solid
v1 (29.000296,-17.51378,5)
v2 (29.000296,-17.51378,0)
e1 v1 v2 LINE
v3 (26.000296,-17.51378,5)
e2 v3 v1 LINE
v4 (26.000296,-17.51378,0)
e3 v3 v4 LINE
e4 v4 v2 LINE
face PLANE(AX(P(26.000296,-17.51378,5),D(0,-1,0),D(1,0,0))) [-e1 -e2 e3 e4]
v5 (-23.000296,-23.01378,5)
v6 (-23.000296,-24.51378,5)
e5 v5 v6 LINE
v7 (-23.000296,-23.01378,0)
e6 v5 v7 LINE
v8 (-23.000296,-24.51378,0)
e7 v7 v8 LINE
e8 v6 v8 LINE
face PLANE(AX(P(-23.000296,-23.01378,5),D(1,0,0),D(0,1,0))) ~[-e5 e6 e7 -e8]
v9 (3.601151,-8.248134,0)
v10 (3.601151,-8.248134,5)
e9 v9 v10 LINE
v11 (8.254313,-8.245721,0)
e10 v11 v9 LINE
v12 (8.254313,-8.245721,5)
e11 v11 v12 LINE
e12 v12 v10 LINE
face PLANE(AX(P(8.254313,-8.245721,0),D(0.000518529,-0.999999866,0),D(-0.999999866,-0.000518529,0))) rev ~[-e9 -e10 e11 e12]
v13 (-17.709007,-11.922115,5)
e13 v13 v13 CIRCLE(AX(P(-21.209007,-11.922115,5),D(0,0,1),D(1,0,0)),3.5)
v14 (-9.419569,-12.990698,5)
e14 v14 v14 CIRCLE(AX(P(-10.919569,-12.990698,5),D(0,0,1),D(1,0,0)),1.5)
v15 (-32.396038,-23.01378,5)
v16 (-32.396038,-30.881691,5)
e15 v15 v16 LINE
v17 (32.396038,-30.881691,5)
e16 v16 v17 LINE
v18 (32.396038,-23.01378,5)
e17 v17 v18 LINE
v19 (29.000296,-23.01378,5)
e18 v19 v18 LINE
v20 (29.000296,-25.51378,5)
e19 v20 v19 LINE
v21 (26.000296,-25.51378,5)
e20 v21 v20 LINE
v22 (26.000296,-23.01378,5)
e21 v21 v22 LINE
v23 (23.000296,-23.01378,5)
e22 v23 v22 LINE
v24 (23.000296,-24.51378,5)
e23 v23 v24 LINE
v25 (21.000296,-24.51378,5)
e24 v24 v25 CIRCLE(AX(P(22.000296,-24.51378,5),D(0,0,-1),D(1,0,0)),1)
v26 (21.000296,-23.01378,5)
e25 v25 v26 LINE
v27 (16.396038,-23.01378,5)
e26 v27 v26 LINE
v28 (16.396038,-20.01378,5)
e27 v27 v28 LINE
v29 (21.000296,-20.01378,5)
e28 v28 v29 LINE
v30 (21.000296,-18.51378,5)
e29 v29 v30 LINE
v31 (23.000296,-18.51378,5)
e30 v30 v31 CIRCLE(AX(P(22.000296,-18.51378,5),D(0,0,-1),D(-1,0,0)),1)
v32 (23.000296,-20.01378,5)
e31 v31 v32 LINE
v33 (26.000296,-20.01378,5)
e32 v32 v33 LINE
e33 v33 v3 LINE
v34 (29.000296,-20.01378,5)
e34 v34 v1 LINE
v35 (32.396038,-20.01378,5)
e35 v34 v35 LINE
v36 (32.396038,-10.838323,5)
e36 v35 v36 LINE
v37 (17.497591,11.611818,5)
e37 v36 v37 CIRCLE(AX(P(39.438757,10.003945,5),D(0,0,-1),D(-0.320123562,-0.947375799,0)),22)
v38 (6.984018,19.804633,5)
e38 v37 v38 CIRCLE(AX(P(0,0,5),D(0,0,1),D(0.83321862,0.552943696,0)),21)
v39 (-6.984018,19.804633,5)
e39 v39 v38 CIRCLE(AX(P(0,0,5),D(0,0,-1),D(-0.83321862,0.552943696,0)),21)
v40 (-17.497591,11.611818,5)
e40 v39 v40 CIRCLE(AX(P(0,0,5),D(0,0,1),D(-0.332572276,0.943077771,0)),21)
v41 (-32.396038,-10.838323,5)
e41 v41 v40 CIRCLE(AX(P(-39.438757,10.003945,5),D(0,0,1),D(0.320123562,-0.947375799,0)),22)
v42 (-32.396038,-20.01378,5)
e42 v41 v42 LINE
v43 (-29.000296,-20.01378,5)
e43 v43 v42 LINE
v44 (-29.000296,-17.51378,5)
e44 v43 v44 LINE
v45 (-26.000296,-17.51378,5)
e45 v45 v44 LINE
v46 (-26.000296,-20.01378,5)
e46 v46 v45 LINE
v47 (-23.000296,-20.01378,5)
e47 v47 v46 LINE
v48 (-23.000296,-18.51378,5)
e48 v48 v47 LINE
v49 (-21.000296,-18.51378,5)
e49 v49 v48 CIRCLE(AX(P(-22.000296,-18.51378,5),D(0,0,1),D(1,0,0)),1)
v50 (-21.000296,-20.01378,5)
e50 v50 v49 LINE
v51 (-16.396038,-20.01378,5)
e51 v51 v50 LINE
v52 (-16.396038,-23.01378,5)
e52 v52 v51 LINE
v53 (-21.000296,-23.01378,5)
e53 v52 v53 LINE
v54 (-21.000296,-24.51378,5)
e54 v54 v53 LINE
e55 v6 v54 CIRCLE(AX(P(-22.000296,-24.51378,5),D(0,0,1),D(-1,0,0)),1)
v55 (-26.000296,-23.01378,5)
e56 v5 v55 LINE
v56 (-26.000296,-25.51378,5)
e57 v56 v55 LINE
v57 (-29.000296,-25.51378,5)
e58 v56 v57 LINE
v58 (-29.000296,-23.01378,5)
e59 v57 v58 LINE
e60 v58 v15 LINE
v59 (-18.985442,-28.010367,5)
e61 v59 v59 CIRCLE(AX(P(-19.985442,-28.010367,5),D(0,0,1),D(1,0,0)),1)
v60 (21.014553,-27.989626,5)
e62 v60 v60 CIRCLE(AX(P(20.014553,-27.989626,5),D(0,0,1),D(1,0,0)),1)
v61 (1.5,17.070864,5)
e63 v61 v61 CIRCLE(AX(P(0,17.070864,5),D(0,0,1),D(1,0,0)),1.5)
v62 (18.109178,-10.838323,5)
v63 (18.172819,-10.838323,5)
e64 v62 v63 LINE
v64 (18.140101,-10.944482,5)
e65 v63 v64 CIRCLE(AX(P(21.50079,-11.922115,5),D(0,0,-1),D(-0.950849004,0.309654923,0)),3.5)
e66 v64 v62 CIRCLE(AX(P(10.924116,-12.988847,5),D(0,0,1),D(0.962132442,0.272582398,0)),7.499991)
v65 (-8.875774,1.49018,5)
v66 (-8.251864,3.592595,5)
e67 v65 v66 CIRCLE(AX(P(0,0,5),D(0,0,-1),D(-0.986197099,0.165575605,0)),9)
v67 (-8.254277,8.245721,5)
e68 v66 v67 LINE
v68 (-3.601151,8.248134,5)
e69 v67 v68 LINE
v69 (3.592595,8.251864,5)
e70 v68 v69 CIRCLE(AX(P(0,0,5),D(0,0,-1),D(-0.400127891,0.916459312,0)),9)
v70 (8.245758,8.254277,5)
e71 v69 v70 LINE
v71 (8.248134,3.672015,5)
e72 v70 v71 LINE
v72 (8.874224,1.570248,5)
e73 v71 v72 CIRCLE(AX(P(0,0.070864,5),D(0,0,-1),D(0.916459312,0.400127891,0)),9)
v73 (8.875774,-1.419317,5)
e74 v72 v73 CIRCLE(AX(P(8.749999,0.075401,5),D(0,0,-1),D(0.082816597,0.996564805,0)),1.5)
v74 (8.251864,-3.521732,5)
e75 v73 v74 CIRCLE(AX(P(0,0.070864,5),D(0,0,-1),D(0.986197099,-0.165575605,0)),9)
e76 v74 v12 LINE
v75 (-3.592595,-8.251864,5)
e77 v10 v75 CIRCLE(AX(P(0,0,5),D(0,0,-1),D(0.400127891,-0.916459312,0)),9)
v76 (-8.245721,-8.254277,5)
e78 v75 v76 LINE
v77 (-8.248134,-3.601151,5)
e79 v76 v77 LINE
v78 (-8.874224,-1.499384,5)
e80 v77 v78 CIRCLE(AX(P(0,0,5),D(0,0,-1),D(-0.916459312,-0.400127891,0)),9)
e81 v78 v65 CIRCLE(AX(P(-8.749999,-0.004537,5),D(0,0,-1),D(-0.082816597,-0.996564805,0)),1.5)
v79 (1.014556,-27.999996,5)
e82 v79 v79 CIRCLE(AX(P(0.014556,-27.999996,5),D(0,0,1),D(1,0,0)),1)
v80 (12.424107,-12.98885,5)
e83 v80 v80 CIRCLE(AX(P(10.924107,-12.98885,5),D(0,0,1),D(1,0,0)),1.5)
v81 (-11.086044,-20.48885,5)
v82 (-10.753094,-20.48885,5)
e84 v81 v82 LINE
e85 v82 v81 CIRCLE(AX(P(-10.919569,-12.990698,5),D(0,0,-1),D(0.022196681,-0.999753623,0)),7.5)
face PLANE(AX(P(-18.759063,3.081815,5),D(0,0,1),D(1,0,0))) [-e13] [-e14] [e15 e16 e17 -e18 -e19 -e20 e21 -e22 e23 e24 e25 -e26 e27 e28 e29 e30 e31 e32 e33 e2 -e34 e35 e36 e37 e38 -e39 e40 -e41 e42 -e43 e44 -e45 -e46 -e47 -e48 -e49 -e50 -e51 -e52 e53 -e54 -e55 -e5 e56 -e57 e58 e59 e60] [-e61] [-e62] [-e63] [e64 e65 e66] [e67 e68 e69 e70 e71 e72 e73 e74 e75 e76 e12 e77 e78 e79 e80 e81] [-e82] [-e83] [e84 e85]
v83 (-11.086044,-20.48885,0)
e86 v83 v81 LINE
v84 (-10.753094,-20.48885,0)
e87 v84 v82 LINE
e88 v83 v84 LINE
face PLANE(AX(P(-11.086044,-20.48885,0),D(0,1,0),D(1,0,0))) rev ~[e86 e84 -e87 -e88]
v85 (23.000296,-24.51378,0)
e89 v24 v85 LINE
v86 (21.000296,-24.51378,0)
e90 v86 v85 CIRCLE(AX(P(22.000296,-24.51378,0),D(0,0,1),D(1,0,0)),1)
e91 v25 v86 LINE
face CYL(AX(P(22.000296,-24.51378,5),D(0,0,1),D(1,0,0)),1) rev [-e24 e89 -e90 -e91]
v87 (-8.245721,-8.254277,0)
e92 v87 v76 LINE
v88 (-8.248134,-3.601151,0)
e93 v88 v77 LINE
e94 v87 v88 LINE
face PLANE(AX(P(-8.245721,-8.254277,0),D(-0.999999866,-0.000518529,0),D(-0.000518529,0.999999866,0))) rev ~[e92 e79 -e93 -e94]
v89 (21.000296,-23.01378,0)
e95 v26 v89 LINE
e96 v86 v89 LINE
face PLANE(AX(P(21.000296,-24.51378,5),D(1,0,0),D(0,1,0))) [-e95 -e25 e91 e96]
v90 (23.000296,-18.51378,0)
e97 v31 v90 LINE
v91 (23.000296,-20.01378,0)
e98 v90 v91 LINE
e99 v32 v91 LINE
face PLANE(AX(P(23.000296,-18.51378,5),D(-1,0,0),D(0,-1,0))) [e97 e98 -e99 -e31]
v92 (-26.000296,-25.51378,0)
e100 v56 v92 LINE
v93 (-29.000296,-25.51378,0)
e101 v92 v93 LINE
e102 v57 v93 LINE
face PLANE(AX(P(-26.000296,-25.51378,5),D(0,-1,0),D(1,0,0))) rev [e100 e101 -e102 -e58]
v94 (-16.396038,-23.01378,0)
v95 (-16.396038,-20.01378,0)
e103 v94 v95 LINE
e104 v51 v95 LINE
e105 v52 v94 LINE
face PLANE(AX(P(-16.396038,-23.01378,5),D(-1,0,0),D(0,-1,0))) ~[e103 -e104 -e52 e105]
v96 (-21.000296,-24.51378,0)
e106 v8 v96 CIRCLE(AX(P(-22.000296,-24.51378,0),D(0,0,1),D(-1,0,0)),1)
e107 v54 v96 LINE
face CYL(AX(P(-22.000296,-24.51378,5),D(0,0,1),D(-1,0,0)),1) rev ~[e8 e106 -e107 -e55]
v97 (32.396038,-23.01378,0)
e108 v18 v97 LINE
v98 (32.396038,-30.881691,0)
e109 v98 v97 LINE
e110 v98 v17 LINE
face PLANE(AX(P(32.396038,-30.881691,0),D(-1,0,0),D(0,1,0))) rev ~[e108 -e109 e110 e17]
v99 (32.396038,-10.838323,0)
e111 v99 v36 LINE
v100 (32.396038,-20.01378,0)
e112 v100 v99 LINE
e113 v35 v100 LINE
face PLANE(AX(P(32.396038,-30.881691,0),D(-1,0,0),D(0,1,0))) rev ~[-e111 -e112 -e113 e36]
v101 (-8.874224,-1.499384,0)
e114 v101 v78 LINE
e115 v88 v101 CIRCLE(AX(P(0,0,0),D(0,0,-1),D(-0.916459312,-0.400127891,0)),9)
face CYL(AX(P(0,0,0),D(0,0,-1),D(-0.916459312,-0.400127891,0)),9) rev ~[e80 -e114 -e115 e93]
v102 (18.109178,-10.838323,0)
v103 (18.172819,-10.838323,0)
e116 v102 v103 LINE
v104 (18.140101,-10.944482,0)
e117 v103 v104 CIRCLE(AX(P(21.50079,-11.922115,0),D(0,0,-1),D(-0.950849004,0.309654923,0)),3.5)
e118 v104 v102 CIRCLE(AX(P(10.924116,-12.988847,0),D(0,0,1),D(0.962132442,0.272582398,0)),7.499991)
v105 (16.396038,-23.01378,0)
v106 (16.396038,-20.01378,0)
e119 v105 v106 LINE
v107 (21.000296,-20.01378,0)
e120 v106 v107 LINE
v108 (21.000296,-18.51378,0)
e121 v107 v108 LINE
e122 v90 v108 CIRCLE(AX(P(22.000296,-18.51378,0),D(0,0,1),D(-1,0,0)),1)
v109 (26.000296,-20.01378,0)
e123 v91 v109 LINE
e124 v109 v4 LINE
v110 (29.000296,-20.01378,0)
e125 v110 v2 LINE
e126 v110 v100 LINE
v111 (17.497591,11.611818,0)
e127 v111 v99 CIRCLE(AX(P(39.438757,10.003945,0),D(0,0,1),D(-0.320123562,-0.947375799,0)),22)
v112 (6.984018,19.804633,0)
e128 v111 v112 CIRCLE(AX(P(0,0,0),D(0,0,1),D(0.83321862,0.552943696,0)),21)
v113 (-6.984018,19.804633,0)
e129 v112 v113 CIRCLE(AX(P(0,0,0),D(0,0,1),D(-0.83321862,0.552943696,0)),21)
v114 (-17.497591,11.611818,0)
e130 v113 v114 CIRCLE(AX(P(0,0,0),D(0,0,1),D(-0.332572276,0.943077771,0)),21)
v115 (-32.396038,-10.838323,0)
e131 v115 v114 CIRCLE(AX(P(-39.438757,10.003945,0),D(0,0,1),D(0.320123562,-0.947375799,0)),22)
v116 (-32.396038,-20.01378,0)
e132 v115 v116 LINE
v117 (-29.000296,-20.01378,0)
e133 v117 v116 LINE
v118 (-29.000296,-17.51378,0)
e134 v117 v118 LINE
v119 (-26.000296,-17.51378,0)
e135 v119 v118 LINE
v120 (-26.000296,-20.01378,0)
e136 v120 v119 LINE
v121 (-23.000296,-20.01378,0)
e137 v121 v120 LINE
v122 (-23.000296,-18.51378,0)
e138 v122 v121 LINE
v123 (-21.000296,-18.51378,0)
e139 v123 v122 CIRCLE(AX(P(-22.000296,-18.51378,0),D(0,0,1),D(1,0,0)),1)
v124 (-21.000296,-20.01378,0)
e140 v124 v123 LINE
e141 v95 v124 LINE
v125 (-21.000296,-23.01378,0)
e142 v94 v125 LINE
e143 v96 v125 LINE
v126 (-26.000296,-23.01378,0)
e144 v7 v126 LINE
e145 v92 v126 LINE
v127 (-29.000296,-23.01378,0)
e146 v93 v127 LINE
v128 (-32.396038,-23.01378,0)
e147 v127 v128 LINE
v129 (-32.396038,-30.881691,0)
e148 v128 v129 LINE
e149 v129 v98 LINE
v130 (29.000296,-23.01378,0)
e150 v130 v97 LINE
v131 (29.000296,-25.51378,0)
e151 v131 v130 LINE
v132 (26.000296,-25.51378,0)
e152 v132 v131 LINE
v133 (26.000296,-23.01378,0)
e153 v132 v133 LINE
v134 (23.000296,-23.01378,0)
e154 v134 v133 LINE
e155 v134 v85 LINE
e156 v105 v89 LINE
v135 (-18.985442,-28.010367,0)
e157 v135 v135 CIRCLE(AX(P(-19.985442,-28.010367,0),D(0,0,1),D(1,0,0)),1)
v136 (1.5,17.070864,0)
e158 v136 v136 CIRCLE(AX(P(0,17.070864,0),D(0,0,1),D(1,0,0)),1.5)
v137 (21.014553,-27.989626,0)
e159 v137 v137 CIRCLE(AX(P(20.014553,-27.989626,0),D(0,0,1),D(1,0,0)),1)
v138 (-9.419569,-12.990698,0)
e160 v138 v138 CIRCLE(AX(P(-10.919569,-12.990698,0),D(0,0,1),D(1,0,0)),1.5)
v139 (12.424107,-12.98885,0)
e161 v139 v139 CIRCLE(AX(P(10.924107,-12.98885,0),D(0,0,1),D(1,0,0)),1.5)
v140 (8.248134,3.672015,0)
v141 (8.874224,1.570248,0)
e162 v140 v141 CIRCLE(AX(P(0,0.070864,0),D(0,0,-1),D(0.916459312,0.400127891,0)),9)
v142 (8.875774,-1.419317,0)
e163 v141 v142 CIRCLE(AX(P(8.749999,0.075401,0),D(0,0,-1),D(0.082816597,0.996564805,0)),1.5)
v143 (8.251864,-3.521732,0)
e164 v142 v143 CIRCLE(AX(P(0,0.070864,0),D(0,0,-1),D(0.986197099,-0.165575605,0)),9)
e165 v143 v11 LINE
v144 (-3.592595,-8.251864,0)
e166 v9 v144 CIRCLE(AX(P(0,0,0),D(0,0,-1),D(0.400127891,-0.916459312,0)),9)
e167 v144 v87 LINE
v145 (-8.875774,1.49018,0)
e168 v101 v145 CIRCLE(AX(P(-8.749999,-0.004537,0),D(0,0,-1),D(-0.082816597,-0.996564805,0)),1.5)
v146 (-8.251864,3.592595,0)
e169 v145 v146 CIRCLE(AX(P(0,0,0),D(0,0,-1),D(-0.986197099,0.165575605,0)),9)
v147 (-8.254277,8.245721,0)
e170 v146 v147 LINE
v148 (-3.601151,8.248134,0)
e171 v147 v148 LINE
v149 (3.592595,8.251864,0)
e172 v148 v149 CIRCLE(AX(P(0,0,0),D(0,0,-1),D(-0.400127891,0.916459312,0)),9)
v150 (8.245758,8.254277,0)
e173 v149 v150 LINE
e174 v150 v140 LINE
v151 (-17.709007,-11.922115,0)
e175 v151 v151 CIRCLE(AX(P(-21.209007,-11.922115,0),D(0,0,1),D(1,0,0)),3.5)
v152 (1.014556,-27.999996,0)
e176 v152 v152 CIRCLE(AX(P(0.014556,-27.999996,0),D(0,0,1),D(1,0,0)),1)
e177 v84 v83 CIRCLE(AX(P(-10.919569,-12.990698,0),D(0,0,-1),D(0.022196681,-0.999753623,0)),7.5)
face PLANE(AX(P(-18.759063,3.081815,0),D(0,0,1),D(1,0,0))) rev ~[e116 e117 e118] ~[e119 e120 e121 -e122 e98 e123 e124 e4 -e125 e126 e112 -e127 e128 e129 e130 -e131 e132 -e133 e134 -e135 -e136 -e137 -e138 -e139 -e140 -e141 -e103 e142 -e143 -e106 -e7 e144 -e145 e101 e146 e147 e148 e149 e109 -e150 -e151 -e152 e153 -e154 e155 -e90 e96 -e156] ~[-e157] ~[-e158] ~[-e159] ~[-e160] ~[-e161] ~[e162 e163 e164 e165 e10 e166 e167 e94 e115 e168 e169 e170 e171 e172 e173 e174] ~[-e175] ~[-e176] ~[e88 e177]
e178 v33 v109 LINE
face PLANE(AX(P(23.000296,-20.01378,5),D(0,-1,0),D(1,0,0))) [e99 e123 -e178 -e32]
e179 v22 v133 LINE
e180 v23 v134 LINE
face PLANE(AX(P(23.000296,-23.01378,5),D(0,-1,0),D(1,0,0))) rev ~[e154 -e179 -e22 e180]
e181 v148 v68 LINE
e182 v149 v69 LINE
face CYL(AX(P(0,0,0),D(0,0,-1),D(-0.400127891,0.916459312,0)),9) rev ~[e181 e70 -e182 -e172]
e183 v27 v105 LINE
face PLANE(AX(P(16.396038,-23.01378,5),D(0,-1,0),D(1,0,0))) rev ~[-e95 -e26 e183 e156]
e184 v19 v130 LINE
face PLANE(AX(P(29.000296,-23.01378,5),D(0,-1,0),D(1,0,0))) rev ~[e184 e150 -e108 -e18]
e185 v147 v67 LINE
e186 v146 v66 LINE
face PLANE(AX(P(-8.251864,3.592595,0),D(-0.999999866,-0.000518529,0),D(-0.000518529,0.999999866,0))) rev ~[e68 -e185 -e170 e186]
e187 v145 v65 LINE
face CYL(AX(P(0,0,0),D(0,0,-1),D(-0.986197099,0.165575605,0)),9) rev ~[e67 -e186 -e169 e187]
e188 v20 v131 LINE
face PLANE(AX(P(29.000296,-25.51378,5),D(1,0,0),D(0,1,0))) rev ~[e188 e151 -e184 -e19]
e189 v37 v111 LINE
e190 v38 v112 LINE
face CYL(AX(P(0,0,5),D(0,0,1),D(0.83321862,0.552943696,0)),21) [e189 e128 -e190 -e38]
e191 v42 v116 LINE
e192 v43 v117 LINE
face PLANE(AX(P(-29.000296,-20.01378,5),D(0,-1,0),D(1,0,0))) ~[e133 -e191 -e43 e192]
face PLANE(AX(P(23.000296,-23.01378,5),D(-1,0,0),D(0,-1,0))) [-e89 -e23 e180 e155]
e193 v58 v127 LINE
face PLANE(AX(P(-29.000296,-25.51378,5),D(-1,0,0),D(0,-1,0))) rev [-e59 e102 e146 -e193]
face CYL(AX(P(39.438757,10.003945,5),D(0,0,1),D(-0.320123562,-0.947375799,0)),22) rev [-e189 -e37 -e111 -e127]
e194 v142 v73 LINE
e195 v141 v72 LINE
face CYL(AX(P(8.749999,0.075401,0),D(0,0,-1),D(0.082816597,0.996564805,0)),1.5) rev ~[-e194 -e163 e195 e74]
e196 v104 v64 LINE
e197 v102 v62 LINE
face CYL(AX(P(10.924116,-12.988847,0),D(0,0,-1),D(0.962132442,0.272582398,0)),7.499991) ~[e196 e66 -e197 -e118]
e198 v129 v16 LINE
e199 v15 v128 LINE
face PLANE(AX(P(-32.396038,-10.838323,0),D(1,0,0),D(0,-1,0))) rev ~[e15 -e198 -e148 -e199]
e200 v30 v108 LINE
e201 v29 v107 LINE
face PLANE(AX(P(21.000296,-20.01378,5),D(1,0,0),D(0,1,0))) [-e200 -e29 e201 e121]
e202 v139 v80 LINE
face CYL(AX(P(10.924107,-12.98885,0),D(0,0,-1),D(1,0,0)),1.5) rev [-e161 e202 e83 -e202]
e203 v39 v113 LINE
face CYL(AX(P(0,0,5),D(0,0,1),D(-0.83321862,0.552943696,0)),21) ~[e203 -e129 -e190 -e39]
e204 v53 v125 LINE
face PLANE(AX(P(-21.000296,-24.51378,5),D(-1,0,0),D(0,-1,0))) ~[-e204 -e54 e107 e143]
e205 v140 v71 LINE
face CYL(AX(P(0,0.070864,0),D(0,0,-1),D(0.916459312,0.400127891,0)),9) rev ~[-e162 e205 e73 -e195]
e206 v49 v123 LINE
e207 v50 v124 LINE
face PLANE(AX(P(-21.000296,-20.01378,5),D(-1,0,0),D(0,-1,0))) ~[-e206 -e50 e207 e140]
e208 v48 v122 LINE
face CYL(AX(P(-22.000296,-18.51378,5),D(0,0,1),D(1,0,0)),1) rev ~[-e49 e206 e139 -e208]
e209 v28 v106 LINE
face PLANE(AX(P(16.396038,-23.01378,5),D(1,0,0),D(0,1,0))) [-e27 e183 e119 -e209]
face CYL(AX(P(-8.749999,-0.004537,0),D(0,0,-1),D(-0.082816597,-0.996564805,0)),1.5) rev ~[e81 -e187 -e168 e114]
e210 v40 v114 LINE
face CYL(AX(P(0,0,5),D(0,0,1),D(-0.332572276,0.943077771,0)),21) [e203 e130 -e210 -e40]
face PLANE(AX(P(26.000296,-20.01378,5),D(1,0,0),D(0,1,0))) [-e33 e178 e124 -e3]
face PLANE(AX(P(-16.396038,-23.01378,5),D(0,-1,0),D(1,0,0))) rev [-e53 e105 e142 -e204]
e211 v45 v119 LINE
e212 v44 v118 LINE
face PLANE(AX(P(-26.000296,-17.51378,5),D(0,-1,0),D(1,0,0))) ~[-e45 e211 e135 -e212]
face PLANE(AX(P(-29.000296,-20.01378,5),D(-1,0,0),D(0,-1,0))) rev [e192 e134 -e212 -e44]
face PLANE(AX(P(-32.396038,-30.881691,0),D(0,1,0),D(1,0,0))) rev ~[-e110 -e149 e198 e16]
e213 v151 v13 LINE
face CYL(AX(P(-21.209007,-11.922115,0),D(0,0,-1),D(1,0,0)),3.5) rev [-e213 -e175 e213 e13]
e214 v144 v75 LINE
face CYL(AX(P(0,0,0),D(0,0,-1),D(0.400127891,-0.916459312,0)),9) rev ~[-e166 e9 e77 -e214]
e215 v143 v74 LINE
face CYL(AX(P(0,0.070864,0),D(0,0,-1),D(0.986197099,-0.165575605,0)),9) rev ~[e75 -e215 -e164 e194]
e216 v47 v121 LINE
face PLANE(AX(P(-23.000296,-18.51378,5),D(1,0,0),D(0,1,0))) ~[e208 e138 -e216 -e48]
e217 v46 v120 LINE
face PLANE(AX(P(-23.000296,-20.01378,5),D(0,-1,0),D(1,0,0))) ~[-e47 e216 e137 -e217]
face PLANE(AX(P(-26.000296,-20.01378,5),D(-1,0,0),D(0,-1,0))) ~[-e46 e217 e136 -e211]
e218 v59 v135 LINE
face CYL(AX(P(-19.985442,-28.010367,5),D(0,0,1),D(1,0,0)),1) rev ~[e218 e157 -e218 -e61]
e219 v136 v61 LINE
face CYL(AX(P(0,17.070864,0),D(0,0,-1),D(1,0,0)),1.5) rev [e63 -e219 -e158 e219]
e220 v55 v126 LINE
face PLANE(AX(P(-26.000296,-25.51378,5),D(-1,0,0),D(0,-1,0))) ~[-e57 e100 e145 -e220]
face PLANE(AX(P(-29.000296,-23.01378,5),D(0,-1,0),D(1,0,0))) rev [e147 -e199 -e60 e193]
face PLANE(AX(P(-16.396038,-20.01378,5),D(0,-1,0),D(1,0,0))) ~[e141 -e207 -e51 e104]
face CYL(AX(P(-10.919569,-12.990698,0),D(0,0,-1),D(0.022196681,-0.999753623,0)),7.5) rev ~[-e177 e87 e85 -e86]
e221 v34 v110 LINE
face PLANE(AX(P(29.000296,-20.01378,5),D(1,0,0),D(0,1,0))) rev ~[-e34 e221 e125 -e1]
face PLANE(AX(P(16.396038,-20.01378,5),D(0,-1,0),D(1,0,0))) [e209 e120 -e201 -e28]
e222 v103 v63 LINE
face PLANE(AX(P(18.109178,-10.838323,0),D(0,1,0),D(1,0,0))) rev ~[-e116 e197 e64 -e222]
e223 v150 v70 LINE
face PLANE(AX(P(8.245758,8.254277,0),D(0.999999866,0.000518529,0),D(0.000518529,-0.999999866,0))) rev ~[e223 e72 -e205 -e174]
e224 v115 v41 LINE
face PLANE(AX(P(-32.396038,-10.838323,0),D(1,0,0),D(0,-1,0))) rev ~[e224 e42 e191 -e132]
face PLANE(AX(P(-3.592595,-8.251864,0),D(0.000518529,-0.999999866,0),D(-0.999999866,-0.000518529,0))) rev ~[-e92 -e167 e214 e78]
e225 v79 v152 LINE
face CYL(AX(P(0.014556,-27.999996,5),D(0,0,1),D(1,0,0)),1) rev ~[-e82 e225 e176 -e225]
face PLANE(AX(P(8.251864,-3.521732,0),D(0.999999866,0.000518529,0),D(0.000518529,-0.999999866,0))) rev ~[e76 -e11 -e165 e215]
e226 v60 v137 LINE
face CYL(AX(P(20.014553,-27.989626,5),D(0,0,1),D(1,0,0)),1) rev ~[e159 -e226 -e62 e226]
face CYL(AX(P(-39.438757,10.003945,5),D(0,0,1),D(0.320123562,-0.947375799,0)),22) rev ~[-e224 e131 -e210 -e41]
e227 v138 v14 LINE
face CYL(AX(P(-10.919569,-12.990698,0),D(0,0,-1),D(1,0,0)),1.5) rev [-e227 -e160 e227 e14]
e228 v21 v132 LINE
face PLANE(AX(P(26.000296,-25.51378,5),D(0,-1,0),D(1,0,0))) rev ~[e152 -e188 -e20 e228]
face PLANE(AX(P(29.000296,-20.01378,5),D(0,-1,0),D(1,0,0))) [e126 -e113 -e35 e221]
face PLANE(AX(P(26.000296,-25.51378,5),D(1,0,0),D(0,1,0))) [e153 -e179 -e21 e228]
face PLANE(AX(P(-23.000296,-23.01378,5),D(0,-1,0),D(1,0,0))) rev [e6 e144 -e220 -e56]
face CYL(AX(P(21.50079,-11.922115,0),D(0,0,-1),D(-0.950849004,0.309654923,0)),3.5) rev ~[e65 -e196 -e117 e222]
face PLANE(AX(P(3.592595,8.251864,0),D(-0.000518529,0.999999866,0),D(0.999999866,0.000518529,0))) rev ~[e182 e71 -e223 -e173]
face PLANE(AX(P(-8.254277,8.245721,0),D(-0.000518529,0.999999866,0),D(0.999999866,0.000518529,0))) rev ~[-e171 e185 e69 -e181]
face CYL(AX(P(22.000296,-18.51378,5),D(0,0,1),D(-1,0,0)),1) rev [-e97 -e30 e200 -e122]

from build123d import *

# Parameters (mm, degrees)
SKETCH1_R           = 3.5
SKETCH1_R_2         = 1.5
BOSS_EXTRUDE1_DEPTH = 5
SKETCH2_W           = 3
SKETCH2_H           = 8
SKETCH2_W_2         = 16
SKETCH2_H_2         = 3
CUT_EXTRUDE3_DEPTH  = 10
SKETCH4_OUTSIDE_W   = 83.878
SKETCH4_OUTSIDE_H   = 74.539
CUT_EXTRUDE5_DEPTH  = 10
BOSS_EXTRUDE2_DEPTH = 5
SKETCH5_R           = 1
CUT_EXTRUDE6_DEPTH  = 5
CUT_EXTRUDE7_DEPTH  = 46.035343011


with BuildPart() as part:
    # Sketch1 → Boss-Extrude1 (new body)
    with BuildSketch(Plane.XY):
        with BuildLine():
            Line((16.678684739, -6.865443356), (7.048954955, 19.63254949))
            ThreePointArc((7.048954955, 19.63254949), (-0.000574134, 24.570863688), (-7.049347073, 19.631470247))
            Line((-7.049347073, 19.631470247), (-16.60248251, -6.668301445))
            ThreePointArc((-16.60248251, -6.668301445), (-23.589225287, -5.352701736), (-28.111762071, -10.838322782))
            Line((-28.111762071, -10.838322782), (-32.396038203, -10.838322782))
            Line((-32.396038203, -10.838322782), (-32.396038203, -30.881690835))
            Line((-32.396038203, -30.881690835), (32.396038203, -30.881690835))
            Line((32.396038203, -30.881690835), (32.396038203, -10.838322782))
            Line((32.396038203, -10.838322782), (28.403544795, -10.838322782))
            ThreePointArc((28.403544795, -10.838322782), (23.74315896, -5.304380506), (16.678684739, -6.865443356))
        make_face()
        with Locations((-21.209007359, -11.922115015)):
            Circle(SKETCH1_R, mode=Mode.SUBTRACT)
        with BuildLine():
            Line((3.592595297, 8.251863973), (8.245757774, 8.254276772))
            Line((8.245757774, 8.254276772), (8.248133809, 3.67201473))
            ThreePointArc((8.248133809, 3.67201473), (8.625435504, 2.640272663), (8.874223719, 1.570248043))
            ThreePointArc((8.874223719, 1.570248043), (10.249998622, 0.076178628), (8.875773895, -1.41931674))
            ThreePointArc((8.875773895, -1.41931674), (8.62809549, -2.489598792), (8.251863973, -3.521731588))
            Line((8.251863973, -3.521731588), (8.254313497, -8.24572101))
            Line((8.254313497, -8.24572101), (3.601151021, -8.248133809))
            ThreePointArc((3.601151021, -8.248133809), (0.004666758, -8.99999879), (-3.592595297, -8.251863973))
            Line((-3.592595297, -8.251863973), (-8.245721029, -8.254276752))
            Line((-8.245721029, -8.254276752), (-8.248133809, -3.601151021))
            ThreePointArc((-8.248133809, -3.601151021), (-8.625435504, -2.569408953), (-8.874223719, -1.499384334))
            ThreePointArc((-8.874223719, -1.499384334), (-10.249998622, -0.005314919), (-8.875773895, 1.49018045))
            ThreePointArc((-8.875773895, 1.49018045), (-8.62809549, 2.560462502), (-8.251863973, 3.592595297))
            Line((-8.251863973, 3.592595297), (-8.254276752, 8.245721029))
            Line((-8.254276752, 8.245721029), (-3.601151021, 8.248133809))
            ThreePointArc((-3.601151021, 8.248133809), (-0.004666758, 8.99999879), (3.592595297, 8.251863973))
        make_face(mode=Mode.SUBTRACT)
        with Locations((0, 17.070863709)):
            Circle(SKETCH1_R_2, mode=Mode.SUBTRACT)
        with BuildLine():
            ThreePointArc((18.172818569, -10.838322782), (24.845541744, -12.952957548), (18.140100673, -10.944481806))
            ThreePointArc((18.140100673, -10.944481806), (18.124834746, -10.891345307), (18.109177542, -10.838322782))
            Line((18.109177542, -10.838322782), (18.172818569, -10.838322782))
        make_face(mode=Mode.SUBTRACT)
        with BuildLine():
            Line((-11.086043951, -20.488849886), (-10.753093745, -20.488849886))
            ThreePointArc((-10.753093745, -20.488849886), (-10.919568848, -20.490697711), (-11.086043951, -20.488849886))
        make_face(mode=Mode.SUBTRACT)
        with Locations((10.924107384, -12.988849886)):
            Circle(SKETCH1_R_2, mode=Mode.SUBTRACT)
        with Locations((-10.919568848, -12.990697711)):
            Circle(SKETCH1_R_2, mode=Mode.SUBTRACT)
    extrude(amount=BOSS_EXTRUDE1_DEPTH)

    # Sketch2 → Cut-Extrude3 (cut)
    with BuildSketch(Plane.XY.offset(5)):
        with Locations((27.500296009, -21.513780425)):
            Rectangle(SKETCH2_W, SKETCH2_H)
        with Locations((24.396038203, -21.513780425)):
            Rectangle(SKETCH2_W_2, SKETCH2_H_2)
        with BuildLine():
            Line((23.000296009, -18.513780425), (23.000296009, -24.513780425))
            ThreePointArc((23.000296009, -24.513780425), (22.000296009, -25.513780425), (21.000296009, -24.513780425))
            Line((21.000296009, -24.513780425), (21.000296009, -18.513780425))
            ThreePointArc((21.000296009, -18.513780425), (22.000296009, -17.513780425), (23.000296009, -18.513780425))
        make_face()
    cut_extrude3 = extrude(amount=-CUT_EXTRUDE3_DEPTH, mode=Mode.SUBTRACT)

    # Mirror1: Cut-Extrude3 across plane
    add(cut_extrude3.mirror(Plane(origin=(0, 0, 0), x_dir=(0, 0, 1), z_dir=(1, 0, 0))), mode=Mode.SUBTRACT)

    # Sketch4 outside → Cut-Extrude5 (cut)
    with BuildSketch(Plane.XY.offset(5)):
        with Locations((0, -3.1555)):
            Rectangle(SKETCH4_OUTSIDE_W, SKETCH4_OUTSIDE_H)
        with BuildLine():
            Line((-28.111762071, -10.838322782), (-32.396038203, -10.838322782))
            Line((-32.396038203, -10.838322782), (-32.396038203, -30.881690835))
            Line((-32.396038203, -30.881690835), (32.396038203, -30.881690835))
            Line((32.396038203, -30.881690835), (32.396038203, -10.838322782))
            Line((32.396038203, -10.838322782), (28.403544795, -10.838322782))
            ThreePointArc((28.403544795, -10.838322782), (23.74315896, -5.304380506), (16.678684739, -6.865443356))
            Line((16.678684739, -6.865443356), (7.048954955, 19.63254949))
            Line((7.048954955, 19.63254949), (6.984017788, 19.804633184))
            ThreePointArc((6.984017788, 19.804633184), (0, 21), (-6.984017788, 19.804633184))
            Line((-6.984017788, 19.804633184), (-7.049347073, 19.631470247))
            Line((-7.049347073, 19.631470247), (-16.60248251, -6.668301445))
            ThreePointArc((-16.60248251, -6.668301445), (-23.589225287, -5.352701736), (-28.111762071, -10.838322782))
        make_face(mode=Mode.SUBTRACT)
    extrude(amount=-CUT_EXTRUDE5_DEPTH, mode=Mode.SUBTRACT)

    # Sketch4<5> → Boss-Extrude2 (add)
    with BuildSketch(Plane.XY.offset(5)):
        with BuildLine():
            Line((-17.497591027, 11.611817612), (-32.396038203, -10.838322782))
            Line((-32.396038203, -10.838322782), (-28.111762071, -10.838322782))
            ThreePointArc((-28.111762071, -10.838322782), (-23.589225287, -5.352701736), (-16.60248251, -6.668301445))
            Line((-16.60248251, -6.668301445), (-7.049347073, 19.631470247))
            Line((-7.049347073, 19.631470247), (-6.984017788, 19.804633184))
            ThreePointArc((-6.984017788, 19.804633184), (-12.90805366, 16.564484619), (-17.497591027, 11.611817612))
        make_face()
        with BuildLine():
            ThreePointArc((17.497591027, 11.611817612), (12.90805366, 16.564484619), (6.984017788, 19.804633184))
            Line((6.984017788, 19.804633184), (7.048954955, 19.63254949))
            Line((7.048954955, 19.63254949), (16.678684739, -6.865443356))
            ThreePointArc((16.678684739, -6.865443356), (23.74315896, -5.304380506), (28.403544795, -10.838322782))
            Line((28.403544795, -10.838322782), (32.396038203, -10.838322782))
            Line((32.396038203, -10.838322782), (17.497591027, 11.611817612))
        make_face()
    extrude(amount=-BOSS_EXTRUDE2_DEPTH)

    # Sketch5 → Cut-Extrude6 (cut)
    with BuildSketch(Plane.XY.offset(5)):
        with Locations((0.014555548, -27.999996217)):
            Circle(SKETCH5_R)
        with Locations((20.014552859, -27.989625643)):
            Circle(SKETCH5_R)
        with Locations((-19.985441764, -28.01036679)):
            Circle(SKETCH5_R)
    extrude(amount=-CUT_EXTRUDE6_DEPTH, mode=Mode.SUBTRACT)

    # Sketch6 → Cut-Extrude7 (cut, through all)
    with BuildSketch(Plane.XY.offset(5)):
        with BuildLine():
            ThreePointArc((-32.396038203, -10.838322782), (-21.107946915, -2.160816504), (-17.497591027, 11.611817612))
            ThreePointArc((-17.497591027, 11.611817612), (-30.842179781, 4.299051969), (-32.396038203, -10.838322782))
        make_face()
        with BuildLine():
            ThreePointArc((32.396038203, -10.838322782), (21.107946915, -2.160816504), (17.497591027, 11.611817612))
            ThreePointArc((17.497591027, 11.611817612), (30.860111099, 4.310951618), (32.396038203, -10.838322782))
        make_face()
    extrude(amount=-CUT_EXTRUDE7_DEPTH, mode=Mode.SUBTRACT)


solid = part.part
